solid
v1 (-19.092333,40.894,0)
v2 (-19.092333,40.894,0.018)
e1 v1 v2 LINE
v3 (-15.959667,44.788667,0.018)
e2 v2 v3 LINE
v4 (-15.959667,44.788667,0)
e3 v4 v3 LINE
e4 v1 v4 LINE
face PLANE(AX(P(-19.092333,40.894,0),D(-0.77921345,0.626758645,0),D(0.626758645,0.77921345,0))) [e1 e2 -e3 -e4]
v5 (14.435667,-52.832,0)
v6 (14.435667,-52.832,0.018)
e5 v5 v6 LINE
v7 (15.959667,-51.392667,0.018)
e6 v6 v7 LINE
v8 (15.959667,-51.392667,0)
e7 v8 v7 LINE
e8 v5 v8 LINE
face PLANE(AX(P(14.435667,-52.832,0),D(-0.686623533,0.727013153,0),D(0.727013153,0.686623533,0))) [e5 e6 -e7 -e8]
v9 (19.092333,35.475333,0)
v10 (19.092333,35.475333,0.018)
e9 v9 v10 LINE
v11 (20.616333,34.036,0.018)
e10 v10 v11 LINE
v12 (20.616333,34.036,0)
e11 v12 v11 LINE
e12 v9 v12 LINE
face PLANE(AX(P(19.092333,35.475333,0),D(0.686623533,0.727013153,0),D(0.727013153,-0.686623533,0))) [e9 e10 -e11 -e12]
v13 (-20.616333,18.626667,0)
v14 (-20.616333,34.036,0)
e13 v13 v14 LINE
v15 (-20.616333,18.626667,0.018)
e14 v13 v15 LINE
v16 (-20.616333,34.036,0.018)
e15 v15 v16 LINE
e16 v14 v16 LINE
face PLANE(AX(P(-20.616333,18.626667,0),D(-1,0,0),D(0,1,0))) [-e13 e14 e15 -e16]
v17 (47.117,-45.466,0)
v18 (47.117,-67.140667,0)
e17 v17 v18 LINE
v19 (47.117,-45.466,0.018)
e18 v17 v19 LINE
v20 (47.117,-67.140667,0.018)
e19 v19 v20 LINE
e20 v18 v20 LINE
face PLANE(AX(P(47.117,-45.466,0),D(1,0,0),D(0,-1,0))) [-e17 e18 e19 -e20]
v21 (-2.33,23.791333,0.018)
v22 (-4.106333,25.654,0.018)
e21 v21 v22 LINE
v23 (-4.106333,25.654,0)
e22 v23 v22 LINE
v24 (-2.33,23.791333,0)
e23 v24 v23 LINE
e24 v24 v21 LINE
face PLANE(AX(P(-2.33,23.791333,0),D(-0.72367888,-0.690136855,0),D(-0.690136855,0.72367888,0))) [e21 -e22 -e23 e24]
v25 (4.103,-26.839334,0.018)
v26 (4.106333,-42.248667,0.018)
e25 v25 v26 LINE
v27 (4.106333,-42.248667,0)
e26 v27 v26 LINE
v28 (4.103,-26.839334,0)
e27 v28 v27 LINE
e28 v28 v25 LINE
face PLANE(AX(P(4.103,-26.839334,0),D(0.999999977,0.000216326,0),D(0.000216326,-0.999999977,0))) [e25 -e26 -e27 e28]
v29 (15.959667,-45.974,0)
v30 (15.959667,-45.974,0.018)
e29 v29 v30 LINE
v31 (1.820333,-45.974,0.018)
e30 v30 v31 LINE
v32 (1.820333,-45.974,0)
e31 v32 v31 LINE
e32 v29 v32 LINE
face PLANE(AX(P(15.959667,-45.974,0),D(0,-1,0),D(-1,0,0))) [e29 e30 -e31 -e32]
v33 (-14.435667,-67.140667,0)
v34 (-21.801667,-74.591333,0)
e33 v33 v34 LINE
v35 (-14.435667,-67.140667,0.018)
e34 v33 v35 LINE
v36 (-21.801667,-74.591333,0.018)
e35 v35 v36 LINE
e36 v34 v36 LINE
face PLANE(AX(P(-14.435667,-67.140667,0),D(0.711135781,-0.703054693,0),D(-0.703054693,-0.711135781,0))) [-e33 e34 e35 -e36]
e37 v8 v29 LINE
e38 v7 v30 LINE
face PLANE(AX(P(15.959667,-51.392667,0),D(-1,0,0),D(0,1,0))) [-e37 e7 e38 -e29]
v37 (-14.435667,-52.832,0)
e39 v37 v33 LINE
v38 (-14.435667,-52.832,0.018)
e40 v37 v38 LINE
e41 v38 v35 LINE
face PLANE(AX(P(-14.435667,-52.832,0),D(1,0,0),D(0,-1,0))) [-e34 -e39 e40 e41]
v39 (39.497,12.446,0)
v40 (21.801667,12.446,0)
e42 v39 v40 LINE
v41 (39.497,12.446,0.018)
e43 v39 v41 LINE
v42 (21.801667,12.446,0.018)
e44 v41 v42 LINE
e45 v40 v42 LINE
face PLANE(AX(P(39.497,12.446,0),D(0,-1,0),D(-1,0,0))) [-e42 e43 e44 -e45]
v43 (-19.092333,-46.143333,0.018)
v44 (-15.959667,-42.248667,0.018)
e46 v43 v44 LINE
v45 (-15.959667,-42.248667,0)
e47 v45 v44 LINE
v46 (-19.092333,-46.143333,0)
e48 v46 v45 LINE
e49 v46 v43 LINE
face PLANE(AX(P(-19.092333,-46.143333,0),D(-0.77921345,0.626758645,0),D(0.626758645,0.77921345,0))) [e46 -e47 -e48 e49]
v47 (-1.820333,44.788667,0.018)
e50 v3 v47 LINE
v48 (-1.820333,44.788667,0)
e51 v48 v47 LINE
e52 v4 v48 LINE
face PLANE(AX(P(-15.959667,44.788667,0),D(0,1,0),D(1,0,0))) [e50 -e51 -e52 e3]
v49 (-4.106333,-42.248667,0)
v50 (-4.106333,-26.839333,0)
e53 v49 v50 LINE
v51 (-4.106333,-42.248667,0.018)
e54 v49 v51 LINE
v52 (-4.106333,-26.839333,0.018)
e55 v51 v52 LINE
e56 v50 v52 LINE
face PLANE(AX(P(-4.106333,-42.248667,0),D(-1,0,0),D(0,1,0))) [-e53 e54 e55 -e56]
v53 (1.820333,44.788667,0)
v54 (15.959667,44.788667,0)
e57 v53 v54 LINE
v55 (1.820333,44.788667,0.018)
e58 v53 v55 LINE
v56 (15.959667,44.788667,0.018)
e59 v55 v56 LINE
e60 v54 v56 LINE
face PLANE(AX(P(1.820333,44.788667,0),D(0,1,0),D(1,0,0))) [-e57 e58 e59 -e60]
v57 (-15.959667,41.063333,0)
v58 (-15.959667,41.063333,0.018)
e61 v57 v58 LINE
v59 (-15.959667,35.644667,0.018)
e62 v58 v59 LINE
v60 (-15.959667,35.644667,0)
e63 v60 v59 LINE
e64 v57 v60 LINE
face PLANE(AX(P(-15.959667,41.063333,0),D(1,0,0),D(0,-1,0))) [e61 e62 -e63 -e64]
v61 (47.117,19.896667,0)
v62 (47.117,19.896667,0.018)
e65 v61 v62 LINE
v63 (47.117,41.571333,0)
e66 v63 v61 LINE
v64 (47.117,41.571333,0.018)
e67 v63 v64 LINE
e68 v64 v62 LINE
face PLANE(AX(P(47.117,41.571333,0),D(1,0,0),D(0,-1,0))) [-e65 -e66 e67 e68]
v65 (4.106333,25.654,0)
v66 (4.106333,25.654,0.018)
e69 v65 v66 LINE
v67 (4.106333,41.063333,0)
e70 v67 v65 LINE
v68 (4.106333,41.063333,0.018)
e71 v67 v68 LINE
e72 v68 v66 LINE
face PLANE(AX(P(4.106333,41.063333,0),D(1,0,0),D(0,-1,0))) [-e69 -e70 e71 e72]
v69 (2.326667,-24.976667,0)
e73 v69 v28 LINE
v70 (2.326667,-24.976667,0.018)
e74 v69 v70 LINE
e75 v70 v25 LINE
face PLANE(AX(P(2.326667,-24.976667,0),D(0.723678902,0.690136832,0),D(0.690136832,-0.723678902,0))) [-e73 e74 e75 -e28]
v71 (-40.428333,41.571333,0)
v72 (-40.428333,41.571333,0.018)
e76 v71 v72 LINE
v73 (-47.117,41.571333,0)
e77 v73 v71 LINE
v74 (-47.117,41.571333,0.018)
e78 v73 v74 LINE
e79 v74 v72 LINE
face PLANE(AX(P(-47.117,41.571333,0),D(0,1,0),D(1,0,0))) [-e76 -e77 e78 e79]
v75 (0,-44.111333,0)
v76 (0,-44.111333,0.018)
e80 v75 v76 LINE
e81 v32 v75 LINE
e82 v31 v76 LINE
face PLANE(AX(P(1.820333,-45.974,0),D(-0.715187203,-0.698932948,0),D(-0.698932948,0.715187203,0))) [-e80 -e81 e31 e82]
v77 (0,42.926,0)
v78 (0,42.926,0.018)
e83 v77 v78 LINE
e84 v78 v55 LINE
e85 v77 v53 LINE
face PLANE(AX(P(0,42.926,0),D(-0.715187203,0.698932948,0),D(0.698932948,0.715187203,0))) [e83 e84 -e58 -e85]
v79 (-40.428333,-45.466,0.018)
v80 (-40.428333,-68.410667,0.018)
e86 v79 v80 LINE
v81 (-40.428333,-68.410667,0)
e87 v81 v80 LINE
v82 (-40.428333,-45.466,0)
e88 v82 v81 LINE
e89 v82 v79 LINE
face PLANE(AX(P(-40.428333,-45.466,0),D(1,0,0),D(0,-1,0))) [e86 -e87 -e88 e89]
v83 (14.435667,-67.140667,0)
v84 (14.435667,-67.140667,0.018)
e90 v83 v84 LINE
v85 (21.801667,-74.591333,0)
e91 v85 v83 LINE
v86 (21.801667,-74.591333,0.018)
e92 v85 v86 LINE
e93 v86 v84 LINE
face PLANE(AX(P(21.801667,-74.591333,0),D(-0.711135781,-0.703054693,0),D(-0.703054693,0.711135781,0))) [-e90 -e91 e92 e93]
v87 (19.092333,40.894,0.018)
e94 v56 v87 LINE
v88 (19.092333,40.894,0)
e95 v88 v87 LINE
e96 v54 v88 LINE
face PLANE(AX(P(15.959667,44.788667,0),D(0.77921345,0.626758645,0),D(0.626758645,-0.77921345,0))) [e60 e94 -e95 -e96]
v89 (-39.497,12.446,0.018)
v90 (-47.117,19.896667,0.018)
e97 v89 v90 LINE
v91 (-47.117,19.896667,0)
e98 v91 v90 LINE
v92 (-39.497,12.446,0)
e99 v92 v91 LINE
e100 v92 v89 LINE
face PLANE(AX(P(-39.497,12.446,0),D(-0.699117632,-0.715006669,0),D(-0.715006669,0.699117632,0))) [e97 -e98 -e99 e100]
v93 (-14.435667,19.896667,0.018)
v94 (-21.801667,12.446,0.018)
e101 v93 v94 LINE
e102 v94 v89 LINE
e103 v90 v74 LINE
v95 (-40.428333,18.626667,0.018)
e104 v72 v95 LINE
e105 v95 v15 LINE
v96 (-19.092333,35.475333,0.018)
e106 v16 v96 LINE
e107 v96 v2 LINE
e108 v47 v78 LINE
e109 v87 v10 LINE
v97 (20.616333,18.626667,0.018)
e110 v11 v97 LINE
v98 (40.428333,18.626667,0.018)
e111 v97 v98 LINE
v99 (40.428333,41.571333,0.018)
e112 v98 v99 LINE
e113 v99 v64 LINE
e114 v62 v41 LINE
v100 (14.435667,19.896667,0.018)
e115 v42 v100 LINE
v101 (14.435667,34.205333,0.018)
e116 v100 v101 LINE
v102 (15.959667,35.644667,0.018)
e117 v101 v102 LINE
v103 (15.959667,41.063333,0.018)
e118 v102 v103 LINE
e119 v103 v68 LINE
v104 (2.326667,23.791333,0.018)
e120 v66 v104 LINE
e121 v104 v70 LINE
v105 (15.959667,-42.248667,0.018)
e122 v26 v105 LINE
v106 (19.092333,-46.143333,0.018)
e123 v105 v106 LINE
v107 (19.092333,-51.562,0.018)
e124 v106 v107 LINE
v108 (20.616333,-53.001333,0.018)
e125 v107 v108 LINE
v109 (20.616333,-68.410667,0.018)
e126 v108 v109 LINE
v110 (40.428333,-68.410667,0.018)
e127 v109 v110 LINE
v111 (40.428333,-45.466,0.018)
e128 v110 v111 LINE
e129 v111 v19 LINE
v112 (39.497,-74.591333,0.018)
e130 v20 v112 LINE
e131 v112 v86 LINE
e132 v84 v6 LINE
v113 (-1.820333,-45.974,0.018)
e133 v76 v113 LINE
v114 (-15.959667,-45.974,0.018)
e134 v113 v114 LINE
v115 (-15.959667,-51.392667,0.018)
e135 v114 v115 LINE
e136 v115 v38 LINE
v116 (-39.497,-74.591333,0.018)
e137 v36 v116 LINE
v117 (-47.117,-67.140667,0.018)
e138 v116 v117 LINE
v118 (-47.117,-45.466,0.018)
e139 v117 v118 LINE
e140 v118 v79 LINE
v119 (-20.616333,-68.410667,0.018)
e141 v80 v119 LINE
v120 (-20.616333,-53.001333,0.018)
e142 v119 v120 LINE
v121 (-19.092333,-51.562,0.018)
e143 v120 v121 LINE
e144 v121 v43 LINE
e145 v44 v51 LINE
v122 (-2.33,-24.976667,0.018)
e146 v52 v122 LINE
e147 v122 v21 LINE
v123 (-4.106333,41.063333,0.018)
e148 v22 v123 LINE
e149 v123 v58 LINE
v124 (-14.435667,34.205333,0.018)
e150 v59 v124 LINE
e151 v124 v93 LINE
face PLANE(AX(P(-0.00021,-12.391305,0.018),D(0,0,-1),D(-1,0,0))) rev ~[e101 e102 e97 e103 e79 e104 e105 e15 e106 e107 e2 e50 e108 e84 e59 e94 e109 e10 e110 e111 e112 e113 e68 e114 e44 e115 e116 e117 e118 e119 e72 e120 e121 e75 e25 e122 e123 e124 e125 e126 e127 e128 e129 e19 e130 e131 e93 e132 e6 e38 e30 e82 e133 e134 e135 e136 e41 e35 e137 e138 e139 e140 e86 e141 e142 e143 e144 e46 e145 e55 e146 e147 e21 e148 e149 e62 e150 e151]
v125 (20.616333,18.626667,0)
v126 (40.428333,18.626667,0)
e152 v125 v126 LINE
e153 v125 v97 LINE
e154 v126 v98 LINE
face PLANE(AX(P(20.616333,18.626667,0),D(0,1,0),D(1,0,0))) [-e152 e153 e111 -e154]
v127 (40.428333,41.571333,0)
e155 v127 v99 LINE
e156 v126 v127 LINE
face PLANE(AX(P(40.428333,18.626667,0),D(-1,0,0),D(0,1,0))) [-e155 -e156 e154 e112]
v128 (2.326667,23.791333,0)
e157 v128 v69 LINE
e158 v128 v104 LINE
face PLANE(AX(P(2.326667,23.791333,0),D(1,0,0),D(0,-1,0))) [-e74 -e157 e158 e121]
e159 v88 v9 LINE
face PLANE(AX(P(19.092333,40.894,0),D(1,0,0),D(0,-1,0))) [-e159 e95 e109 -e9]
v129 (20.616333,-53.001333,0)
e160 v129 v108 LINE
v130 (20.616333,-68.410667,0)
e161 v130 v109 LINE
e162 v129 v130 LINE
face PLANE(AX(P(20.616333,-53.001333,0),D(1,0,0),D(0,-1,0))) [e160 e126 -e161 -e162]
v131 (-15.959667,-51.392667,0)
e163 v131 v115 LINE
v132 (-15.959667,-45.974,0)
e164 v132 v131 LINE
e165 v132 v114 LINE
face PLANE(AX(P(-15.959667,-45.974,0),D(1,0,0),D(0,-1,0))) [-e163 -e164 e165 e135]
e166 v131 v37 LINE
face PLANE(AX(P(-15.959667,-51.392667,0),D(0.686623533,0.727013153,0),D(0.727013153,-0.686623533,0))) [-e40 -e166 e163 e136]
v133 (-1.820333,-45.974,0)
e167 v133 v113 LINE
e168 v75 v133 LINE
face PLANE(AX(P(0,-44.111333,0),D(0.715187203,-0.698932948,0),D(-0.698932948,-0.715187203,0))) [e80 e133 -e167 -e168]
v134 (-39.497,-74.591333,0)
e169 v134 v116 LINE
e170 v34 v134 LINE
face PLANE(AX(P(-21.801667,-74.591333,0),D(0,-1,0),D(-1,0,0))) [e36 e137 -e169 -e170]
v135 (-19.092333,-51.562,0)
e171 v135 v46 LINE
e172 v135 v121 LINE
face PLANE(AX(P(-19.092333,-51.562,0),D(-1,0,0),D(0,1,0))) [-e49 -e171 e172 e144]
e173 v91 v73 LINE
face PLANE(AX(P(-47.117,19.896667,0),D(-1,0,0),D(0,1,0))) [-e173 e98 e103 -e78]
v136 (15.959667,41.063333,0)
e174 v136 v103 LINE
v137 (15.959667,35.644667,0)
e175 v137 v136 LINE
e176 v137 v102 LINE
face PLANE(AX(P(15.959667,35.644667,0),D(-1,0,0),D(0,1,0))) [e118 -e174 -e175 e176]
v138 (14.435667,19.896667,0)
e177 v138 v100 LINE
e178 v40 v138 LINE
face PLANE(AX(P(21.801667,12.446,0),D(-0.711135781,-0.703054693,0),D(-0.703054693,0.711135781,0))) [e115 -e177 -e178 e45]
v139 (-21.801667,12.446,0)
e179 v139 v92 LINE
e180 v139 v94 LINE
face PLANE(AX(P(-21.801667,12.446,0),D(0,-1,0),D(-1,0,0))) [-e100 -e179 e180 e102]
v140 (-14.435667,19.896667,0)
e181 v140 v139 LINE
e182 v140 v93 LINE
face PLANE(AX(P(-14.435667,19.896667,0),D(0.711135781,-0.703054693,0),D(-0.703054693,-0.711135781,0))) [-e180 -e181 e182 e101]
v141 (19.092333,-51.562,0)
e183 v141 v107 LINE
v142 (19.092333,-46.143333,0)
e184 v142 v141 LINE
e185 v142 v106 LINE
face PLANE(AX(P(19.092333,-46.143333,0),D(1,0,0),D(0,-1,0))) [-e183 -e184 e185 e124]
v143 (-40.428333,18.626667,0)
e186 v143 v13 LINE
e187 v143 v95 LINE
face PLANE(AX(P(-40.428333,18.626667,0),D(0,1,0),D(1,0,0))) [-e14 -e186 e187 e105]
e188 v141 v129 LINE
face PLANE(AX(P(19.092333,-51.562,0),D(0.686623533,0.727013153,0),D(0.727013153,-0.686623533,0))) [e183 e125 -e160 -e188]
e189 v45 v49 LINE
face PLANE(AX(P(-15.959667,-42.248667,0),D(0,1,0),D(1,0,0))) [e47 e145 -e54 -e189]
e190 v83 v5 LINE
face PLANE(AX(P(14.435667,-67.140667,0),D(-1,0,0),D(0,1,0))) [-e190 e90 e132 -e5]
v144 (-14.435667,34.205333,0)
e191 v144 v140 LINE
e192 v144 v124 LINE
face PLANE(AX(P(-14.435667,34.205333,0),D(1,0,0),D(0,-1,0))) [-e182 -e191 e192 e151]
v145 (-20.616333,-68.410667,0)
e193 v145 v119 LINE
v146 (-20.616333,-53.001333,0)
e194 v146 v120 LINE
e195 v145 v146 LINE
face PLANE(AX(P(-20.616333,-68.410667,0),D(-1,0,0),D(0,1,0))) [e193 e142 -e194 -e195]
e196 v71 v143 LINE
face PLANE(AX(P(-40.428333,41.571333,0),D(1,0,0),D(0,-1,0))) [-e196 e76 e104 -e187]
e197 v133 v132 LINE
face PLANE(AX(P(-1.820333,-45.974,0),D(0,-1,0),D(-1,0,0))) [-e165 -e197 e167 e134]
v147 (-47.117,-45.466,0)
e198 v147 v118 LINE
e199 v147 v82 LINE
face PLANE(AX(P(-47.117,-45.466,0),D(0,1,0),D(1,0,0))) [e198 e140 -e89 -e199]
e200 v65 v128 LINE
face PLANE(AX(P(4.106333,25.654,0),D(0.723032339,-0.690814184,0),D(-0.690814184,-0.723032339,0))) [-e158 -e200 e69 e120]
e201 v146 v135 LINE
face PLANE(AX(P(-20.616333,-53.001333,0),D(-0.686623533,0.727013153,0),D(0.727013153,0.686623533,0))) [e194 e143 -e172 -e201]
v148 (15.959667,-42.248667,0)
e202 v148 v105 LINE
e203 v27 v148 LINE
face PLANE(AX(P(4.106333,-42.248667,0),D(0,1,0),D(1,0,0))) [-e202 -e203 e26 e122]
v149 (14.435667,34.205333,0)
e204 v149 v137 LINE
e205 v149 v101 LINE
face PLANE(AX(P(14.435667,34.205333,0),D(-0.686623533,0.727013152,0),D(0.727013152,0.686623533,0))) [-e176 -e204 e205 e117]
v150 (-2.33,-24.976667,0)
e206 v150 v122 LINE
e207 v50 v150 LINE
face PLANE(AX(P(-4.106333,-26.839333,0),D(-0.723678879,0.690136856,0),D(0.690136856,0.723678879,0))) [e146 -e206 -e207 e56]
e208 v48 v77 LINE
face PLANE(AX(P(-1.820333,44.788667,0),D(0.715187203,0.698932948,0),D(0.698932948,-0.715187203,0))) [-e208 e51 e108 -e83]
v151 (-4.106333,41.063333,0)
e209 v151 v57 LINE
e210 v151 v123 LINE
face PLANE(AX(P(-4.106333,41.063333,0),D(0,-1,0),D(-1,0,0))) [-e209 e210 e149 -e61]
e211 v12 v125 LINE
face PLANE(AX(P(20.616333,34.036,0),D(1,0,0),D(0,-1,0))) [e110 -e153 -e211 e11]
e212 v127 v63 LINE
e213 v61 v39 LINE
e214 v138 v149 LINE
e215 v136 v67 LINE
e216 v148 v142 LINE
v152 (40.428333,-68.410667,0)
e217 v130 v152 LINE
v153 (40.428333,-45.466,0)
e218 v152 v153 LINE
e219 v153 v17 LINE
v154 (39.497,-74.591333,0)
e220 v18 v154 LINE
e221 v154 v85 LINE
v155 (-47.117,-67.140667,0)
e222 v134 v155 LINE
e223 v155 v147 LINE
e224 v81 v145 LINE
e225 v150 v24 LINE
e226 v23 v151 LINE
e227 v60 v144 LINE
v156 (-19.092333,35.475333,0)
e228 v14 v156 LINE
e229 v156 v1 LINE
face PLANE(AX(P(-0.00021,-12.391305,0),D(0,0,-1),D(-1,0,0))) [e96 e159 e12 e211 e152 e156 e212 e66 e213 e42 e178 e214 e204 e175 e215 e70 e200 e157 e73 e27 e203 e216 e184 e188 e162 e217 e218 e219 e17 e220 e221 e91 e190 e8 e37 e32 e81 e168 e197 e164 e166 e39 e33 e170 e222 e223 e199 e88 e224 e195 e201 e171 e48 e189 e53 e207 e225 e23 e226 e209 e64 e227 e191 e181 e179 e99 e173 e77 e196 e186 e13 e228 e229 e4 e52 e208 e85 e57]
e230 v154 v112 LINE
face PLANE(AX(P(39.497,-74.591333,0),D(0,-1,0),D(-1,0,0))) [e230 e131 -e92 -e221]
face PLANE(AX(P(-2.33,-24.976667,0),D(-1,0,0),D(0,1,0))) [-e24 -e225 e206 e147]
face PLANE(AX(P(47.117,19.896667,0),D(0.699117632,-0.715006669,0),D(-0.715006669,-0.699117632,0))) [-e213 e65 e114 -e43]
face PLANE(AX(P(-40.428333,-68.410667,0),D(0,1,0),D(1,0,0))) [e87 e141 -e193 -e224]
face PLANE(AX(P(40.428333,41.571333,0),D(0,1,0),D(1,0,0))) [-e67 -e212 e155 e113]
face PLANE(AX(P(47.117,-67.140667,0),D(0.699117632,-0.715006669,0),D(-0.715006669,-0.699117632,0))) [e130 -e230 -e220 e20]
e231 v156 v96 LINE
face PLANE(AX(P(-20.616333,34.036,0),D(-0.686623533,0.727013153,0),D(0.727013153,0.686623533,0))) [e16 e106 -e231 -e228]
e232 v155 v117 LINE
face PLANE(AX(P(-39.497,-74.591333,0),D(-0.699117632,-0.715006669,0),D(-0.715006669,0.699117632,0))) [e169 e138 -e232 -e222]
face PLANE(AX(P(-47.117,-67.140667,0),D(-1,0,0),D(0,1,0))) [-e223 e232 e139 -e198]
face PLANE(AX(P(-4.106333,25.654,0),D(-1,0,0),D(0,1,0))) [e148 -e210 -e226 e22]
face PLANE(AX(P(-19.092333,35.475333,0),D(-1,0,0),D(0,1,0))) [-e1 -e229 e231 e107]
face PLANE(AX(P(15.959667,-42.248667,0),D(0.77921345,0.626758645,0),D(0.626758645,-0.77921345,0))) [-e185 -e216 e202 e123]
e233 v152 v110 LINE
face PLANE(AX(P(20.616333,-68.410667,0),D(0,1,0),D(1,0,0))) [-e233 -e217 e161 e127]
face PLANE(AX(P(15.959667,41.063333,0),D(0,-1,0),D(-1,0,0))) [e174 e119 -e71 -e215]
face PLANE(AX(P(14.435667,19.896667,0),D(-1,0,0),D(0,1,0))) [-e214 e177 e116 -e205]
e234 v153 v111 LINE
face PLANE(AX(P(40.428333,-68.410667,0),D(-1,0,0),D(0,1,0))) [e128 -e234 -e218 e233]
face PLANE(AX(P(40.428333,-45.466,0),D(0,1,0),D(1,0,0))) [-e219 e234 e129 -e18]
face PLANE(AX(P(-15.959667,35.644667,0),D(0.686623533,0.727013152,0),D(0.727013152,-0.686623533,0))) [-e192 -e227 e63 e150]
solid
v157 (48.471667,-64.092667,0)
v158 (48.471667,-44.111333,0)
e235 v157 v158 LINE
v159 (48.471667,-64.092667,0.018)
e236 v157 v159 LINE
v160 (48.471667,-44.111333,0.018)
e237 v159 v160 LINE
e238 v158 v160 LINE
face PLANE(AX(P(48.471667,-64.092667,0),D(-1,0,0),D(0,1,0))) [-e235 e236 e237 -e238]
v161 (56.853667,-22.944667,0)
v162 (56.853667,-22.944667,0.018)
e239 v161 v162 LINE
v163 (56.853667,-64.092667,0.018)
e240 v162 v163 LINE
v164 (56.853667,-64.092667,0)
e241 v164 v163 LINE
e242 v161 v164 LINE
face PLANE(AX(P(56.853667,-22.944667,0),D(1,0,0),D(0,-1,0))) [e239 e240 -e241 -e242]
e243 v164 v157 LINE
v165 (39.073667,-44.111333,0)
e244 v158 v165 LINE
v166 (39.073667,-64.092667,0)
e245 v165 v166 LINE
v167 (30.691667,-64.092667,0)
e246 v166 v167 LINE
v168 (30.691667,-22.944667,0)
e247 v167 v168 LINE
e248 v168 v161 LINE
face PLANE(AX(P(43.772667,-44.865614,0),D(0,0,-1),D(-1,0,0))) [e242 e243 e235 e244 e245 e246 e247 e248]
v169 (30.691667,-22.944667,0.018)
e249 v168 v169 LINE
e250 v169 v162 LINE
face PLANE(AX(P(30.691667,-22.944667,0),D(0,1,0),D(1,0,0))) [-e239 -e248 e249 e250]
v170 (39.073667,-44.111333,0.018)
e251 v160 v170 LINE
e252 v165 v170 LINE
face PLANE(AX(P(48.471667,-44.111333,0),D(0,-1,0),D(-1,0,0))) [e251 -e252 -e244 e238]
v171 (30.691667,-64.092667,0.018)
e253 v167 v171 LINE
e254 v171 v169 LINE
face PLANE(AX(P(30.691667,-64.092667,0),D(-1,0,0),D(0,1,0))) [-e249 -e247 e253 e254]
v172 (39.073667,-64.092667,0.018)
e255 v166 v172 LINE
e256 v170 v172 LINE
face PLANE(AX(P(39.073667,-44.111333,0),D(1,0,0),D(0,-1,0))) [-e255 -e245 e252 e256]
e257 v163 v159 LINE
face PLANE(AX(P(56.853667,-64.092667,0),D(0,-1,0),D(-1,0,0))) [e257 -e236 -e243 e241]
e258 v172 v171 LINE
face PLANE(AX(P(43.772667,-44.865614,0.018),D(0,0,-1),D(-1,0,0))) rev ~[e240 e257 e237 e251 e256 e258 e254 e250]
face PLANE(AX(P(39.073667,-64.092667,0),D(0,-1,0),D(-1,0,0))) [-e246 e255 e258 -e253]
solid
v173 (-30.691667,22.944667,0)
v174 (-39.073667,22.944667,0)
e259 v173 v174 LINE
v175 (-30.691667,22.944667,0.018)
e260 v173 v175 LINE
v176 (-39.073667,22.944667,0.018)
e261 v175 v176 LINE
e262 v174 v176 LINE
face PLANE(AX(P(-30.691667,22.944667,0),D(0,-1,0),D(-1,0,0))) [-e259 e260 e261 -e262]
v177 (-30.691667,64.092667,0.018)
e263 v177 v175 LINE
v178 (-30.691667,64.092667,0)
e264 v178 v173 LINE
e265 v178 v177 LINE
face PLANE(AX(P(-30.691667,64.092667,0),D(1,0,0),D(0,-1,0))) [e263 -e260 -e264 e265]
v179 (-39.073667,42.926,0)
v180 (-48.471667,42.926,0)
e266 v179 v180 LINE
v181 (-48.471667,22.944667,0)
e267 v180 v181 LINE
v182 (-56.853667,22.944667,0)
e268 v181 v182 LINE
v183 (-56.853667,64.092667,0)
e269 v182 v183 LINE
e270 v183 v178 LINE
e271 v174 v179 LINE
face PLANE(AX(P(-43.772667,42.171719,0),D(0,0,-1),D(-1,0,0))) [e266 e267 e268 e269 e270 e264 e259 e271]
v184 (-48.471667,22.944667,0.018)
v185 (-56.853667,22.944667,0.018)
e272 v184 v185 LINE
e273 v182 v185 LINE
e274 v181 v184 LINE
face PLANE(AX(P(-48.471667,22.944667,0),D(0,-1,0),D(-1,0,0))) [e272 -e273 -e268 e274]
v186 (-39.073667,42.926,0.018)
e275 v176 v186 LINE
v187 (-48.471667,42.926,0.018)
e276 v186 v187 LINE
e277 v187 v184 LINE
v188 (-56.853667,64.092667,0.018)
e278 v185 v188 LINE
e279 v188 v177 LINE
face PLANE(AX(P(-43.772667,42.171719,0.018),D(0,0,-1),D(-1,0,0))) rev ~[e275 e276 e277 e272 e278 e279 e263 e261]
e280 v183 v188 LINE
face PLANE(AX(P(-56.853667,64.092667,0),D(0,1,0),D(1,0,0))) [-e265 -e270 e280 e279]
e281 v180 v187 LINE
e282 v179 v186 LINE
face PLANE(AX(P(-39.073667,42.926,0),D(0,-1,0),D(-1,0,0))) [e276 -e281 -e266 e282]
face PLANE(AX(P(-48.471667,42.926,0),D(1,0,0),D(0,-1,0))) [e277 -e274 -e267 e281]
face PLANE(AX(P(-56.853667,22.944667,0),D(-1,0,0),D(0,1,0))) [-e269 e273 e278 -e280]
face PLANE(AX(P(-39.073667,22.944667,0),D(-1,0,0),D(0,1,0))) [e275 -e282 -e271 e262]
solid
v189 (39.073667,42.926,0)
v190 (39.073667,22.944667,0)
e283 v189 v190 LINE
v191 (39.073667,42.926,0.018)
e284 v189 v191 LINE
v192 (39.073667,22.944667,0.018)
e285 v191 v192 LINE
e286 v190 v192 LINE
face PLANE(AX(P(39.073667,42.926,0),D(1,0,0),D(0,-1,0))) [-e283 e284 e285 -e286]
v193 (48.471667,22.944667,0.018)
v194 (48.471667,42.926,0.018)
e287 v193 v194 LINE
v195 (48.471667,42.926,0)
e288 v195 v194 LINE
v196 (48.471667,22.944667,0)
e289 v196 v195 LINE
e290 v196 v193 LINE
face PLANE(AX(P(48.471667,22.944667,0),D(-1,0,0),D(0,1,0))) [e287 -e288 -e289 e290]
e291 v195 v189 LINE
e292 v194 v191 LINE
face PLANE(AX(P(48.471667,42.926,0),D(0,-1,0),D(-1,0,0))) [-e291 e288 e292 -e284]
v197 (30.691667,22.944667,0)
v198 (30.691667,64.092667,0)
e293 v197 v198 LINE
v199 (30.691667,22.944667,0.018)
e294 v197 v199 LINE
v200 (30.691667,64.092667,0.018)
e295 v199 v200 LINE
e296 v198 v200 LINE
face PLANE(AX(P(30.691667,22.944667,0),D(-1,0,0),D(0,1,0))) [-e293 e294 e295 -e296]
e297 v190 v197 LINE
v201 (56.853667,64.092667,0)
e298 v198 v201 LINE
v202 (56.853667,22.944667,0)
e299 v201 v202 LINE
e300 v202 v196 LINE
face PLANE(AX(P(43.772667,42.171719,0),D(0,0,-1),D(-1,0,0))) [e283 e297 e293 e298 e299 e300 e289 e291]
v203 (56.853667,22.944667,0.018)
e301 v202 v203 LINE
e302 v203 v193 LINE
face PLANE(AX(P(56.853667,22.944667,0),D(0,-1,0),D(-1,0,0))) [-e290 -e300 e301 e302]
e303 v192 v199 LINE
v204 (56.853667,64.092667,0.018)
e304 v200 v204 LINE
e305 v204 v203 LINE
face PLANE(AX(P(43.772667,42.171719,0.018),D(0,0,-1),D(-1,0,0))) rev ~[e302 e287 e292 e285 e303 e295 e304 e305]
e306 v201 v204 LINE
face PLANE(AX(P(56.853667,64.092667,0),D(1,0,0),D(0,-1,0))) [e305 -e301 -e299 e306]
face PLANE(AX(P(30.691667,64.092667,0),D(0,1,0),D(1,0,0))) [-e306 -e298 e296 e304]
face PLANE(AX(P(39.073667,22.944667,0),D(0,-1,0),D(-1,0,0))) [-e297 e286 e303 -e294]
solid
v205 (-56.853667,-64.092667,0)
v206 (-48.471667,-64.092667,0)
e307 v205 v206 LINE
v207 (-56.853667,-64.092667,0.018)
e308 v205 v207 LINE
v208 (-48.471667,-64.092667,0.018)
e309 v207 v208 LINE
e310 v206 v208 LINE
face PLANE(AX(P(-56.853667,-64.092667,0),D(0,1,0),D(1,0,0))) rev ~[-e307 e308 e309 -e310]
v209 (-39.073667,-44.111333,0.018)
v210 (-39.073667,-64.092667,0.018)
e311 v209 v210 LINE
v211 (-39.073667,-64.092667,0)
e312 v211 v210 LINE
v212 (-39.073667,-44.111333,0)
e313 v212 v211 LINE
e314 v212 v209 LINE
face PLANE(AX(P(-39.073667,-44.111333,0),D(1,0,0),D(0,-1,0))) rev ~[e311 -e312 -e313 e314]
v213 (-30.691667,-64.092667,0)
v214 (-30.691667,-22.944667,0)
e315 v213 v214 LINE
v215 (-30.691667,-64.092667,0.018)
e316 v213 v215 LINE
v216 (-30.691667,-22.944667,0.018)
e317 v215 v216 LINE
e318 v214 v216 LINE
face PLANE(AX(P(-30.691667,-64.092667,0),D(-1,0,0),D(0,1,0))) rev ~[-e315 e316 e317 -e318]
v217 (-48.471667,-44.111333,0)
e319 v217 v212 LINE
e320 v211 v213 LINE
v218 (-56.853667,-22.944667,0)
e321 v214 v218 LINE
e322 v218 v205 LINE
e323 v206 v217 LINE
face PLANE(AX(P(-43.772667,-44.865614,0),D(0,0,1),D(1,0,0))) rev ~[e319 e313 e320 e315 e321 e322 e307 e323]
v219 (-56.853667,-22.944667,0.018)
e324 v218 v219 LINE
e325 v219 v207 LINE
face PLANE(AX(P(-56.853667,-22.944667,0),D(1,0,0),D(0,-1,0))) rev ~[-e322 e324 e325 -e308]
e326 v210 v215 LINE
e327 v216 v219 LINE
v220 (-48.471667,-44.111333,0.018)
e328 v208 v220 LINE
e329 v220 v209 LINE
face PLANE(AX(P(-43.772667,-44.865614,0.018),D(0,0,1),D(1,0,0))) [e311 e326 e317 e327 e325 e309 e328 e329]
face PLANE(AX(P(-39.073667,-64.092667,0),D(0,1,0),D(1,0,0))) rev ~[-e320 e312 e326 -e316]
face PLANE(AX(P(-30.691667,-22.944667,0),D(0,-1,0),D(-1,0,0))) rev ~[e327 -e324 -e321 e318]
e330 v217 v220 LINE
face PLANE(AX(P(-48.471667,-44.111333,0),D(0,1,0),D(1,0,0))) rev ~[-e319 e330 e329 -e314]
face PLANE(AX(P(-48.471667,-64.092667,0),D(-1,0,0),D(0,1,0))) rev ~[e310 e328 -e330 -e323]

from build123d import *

# Parameters (mm, degrees)
FEED_DEPTH    = 0.018
PATCH_DEPTH   = 0.018
PATCH_2_DEPTH = 0.018
PATCH_3_DEPTH = 0.018
PATCH_4_DEPTH = 0.018


with BuildPart() as part:
    # Feed1 → Feed (new body)
    with BuildSketch(Plane.XY):
        Polygon((-47.117, 41.571333333), (-40.428333333, 41.571333333), (-40.428333333, 18.626666667), (-20.616333333, 18.626666667), (-20.616333333, 34.036), (-19.092333333, 35.475333333), (-19.092333333, 40.894), (-15.959666667, 44.788666667), (-1.820333333, 44.788666667), (0, 42.926), (1.820333333, 44.788666667), (15.959666667, 44.788666667), (19.092333333, 40.894), (19.092333333, 35.475333333), (20.616333333, 34.036), (20.616333333, 18.626666667), (40.428333333, 18.626666667), (40.428333333, 41.571333333), (47.117, 41.571333333), (47.117, 19.896666667), (39.497, 12.446), (21.801666667, 12.446), (14.435666667, 19.896666667), (14.435666667, 34.205333333), (15.959666667, 35.644666667), (15.959666667, 41.063333333), (4.106333333, 41.063333333), (4.106333333, 25.654), (2.326666667, 23.791333333), (2.326666667, -24.976667027), (4.102999886, -26.839333694), (4.106333333, -42.248666667), (15.959666667, -42.248666667), (19.092333333, -46.143333333), (19.092333333, -51.562), (20.616333333, -53.001333333), (20.616333333, -68.410666667), (40.428333333, -68.410666667), (40.428333333, -45.466), (47.117, -45.466), (47.117, -67.140666667), (39.497, -74.591333333), (21.801666667, -74.591333333), (14.435666667, -67.140666667), (14.435666667, -52.832), (15.959666667, -51.392666667), (15.959666667, -45.974), (1.820333333, -45.974), (0, -44.111333333), (-1.820333333, -45.974), (-15.959666667, -45.974), (-15.959666667, -51.392666667), (-14.435666667, -52.832), (-14.435666667, -67.140666667), (-21.801666667, -74.591333333), (-39.497, -74.591333333), (-47.117, -67.140666667), (-47.117, -45.466), (-40.428333333, -45.466), (-40.428333333, -68.410666667), (-20.616333333, -68.410666667), (-20.616333333, -53.001333333), (-19.092333333, -51.562), (-19.092333333, -46.143333333), (-15.959666667, -42.248666667), (-4.106333333, -42.248666667), (-4.106333333, -26.839333333), (-2.33, -24.976666667), (-2.33, 23.791333333), (-4.106333333, 25.654), (-4.106333333, 41.063333333), (-15.959666667, 41.063333333), (-15.959666667, 35.644666667), (-14.435666667, 34.205333333), (-14.435666667, 19.896666667), (-21.801666667, 12.446), (-39.497, 12.446), (-47.117, 19.896666667), align=None)
    extrude(amount=FEED_DEPTH)


with BuildPart() as body_2:
    # Patch1 → Patch (new body)
    with BuildSketch(Plane.XY):
        Polygon((-56.853666667, 64.092666667), (-30.691666667, 64.092666667), (-30.691666667, 22.944666667), (-39.073666667, 22.944666667), (-39.073666667, 42.926), (-48.471666667, 42.926), (-48.471666667, 22.944666667), (-56.853666667, 22.944666667), align=None)
    extrude(amount=PATCH_DEPTH)


with BuildPart() as body_3:
    # Patch1 → Patch 2 (new body)
    with BuildSketch(Plane.XY):
        Polygon((39.073666667, 22.944666667), (30.691666667, 22.944666667), (30.691666667, 64.092666667), (56.853666667, 64.092666667), (56.853666667, 22.944666667), (48.471666667, 22.944666667), (48.471666667, 42.926), (39.073666667, 42.926), align=None)
    extrude(amount=PATCH_2_DEPTH)


with BuildPart() as body_4:
    # Patch1 → Patch 3 (new body)
    with BuildSketch(Plane.XY):
        Polygon((-39.073666667, -64.092666667), (-30.691666667, -64.092666667), (-30.691666667, -22.944666667), (-56.853666667, -22.944666667), (-56.853666667, -64.092666667), (-48.471666667, -64.092666667), (-48.471666667, -44.111333333), (-39.073666667, -44.111333333), align=None)
    extrude(amount=PATCH_3_DEPTH)


with BuildPart() as body_5:
    # Patch1 → Patch 4 (new body)
    with BuildSketch(Plane.XY):
        Polygon((56.853666667, -64.092666667), (48.471666667, -64.092666667), (48.471666667, -44.111333333), (39.073666667, -44.111333333), (39.073666667, -64.092666667), (30.691666667, -64.092666667), (30.691666667, -22.944666667), (56.853666667, -22.944666667), align=None)
    extrude(amount=PATCH_4_DEPTH)


solid = Compound([part.part, body_2.part, body_3.part, body_4.part, body_5.part])
